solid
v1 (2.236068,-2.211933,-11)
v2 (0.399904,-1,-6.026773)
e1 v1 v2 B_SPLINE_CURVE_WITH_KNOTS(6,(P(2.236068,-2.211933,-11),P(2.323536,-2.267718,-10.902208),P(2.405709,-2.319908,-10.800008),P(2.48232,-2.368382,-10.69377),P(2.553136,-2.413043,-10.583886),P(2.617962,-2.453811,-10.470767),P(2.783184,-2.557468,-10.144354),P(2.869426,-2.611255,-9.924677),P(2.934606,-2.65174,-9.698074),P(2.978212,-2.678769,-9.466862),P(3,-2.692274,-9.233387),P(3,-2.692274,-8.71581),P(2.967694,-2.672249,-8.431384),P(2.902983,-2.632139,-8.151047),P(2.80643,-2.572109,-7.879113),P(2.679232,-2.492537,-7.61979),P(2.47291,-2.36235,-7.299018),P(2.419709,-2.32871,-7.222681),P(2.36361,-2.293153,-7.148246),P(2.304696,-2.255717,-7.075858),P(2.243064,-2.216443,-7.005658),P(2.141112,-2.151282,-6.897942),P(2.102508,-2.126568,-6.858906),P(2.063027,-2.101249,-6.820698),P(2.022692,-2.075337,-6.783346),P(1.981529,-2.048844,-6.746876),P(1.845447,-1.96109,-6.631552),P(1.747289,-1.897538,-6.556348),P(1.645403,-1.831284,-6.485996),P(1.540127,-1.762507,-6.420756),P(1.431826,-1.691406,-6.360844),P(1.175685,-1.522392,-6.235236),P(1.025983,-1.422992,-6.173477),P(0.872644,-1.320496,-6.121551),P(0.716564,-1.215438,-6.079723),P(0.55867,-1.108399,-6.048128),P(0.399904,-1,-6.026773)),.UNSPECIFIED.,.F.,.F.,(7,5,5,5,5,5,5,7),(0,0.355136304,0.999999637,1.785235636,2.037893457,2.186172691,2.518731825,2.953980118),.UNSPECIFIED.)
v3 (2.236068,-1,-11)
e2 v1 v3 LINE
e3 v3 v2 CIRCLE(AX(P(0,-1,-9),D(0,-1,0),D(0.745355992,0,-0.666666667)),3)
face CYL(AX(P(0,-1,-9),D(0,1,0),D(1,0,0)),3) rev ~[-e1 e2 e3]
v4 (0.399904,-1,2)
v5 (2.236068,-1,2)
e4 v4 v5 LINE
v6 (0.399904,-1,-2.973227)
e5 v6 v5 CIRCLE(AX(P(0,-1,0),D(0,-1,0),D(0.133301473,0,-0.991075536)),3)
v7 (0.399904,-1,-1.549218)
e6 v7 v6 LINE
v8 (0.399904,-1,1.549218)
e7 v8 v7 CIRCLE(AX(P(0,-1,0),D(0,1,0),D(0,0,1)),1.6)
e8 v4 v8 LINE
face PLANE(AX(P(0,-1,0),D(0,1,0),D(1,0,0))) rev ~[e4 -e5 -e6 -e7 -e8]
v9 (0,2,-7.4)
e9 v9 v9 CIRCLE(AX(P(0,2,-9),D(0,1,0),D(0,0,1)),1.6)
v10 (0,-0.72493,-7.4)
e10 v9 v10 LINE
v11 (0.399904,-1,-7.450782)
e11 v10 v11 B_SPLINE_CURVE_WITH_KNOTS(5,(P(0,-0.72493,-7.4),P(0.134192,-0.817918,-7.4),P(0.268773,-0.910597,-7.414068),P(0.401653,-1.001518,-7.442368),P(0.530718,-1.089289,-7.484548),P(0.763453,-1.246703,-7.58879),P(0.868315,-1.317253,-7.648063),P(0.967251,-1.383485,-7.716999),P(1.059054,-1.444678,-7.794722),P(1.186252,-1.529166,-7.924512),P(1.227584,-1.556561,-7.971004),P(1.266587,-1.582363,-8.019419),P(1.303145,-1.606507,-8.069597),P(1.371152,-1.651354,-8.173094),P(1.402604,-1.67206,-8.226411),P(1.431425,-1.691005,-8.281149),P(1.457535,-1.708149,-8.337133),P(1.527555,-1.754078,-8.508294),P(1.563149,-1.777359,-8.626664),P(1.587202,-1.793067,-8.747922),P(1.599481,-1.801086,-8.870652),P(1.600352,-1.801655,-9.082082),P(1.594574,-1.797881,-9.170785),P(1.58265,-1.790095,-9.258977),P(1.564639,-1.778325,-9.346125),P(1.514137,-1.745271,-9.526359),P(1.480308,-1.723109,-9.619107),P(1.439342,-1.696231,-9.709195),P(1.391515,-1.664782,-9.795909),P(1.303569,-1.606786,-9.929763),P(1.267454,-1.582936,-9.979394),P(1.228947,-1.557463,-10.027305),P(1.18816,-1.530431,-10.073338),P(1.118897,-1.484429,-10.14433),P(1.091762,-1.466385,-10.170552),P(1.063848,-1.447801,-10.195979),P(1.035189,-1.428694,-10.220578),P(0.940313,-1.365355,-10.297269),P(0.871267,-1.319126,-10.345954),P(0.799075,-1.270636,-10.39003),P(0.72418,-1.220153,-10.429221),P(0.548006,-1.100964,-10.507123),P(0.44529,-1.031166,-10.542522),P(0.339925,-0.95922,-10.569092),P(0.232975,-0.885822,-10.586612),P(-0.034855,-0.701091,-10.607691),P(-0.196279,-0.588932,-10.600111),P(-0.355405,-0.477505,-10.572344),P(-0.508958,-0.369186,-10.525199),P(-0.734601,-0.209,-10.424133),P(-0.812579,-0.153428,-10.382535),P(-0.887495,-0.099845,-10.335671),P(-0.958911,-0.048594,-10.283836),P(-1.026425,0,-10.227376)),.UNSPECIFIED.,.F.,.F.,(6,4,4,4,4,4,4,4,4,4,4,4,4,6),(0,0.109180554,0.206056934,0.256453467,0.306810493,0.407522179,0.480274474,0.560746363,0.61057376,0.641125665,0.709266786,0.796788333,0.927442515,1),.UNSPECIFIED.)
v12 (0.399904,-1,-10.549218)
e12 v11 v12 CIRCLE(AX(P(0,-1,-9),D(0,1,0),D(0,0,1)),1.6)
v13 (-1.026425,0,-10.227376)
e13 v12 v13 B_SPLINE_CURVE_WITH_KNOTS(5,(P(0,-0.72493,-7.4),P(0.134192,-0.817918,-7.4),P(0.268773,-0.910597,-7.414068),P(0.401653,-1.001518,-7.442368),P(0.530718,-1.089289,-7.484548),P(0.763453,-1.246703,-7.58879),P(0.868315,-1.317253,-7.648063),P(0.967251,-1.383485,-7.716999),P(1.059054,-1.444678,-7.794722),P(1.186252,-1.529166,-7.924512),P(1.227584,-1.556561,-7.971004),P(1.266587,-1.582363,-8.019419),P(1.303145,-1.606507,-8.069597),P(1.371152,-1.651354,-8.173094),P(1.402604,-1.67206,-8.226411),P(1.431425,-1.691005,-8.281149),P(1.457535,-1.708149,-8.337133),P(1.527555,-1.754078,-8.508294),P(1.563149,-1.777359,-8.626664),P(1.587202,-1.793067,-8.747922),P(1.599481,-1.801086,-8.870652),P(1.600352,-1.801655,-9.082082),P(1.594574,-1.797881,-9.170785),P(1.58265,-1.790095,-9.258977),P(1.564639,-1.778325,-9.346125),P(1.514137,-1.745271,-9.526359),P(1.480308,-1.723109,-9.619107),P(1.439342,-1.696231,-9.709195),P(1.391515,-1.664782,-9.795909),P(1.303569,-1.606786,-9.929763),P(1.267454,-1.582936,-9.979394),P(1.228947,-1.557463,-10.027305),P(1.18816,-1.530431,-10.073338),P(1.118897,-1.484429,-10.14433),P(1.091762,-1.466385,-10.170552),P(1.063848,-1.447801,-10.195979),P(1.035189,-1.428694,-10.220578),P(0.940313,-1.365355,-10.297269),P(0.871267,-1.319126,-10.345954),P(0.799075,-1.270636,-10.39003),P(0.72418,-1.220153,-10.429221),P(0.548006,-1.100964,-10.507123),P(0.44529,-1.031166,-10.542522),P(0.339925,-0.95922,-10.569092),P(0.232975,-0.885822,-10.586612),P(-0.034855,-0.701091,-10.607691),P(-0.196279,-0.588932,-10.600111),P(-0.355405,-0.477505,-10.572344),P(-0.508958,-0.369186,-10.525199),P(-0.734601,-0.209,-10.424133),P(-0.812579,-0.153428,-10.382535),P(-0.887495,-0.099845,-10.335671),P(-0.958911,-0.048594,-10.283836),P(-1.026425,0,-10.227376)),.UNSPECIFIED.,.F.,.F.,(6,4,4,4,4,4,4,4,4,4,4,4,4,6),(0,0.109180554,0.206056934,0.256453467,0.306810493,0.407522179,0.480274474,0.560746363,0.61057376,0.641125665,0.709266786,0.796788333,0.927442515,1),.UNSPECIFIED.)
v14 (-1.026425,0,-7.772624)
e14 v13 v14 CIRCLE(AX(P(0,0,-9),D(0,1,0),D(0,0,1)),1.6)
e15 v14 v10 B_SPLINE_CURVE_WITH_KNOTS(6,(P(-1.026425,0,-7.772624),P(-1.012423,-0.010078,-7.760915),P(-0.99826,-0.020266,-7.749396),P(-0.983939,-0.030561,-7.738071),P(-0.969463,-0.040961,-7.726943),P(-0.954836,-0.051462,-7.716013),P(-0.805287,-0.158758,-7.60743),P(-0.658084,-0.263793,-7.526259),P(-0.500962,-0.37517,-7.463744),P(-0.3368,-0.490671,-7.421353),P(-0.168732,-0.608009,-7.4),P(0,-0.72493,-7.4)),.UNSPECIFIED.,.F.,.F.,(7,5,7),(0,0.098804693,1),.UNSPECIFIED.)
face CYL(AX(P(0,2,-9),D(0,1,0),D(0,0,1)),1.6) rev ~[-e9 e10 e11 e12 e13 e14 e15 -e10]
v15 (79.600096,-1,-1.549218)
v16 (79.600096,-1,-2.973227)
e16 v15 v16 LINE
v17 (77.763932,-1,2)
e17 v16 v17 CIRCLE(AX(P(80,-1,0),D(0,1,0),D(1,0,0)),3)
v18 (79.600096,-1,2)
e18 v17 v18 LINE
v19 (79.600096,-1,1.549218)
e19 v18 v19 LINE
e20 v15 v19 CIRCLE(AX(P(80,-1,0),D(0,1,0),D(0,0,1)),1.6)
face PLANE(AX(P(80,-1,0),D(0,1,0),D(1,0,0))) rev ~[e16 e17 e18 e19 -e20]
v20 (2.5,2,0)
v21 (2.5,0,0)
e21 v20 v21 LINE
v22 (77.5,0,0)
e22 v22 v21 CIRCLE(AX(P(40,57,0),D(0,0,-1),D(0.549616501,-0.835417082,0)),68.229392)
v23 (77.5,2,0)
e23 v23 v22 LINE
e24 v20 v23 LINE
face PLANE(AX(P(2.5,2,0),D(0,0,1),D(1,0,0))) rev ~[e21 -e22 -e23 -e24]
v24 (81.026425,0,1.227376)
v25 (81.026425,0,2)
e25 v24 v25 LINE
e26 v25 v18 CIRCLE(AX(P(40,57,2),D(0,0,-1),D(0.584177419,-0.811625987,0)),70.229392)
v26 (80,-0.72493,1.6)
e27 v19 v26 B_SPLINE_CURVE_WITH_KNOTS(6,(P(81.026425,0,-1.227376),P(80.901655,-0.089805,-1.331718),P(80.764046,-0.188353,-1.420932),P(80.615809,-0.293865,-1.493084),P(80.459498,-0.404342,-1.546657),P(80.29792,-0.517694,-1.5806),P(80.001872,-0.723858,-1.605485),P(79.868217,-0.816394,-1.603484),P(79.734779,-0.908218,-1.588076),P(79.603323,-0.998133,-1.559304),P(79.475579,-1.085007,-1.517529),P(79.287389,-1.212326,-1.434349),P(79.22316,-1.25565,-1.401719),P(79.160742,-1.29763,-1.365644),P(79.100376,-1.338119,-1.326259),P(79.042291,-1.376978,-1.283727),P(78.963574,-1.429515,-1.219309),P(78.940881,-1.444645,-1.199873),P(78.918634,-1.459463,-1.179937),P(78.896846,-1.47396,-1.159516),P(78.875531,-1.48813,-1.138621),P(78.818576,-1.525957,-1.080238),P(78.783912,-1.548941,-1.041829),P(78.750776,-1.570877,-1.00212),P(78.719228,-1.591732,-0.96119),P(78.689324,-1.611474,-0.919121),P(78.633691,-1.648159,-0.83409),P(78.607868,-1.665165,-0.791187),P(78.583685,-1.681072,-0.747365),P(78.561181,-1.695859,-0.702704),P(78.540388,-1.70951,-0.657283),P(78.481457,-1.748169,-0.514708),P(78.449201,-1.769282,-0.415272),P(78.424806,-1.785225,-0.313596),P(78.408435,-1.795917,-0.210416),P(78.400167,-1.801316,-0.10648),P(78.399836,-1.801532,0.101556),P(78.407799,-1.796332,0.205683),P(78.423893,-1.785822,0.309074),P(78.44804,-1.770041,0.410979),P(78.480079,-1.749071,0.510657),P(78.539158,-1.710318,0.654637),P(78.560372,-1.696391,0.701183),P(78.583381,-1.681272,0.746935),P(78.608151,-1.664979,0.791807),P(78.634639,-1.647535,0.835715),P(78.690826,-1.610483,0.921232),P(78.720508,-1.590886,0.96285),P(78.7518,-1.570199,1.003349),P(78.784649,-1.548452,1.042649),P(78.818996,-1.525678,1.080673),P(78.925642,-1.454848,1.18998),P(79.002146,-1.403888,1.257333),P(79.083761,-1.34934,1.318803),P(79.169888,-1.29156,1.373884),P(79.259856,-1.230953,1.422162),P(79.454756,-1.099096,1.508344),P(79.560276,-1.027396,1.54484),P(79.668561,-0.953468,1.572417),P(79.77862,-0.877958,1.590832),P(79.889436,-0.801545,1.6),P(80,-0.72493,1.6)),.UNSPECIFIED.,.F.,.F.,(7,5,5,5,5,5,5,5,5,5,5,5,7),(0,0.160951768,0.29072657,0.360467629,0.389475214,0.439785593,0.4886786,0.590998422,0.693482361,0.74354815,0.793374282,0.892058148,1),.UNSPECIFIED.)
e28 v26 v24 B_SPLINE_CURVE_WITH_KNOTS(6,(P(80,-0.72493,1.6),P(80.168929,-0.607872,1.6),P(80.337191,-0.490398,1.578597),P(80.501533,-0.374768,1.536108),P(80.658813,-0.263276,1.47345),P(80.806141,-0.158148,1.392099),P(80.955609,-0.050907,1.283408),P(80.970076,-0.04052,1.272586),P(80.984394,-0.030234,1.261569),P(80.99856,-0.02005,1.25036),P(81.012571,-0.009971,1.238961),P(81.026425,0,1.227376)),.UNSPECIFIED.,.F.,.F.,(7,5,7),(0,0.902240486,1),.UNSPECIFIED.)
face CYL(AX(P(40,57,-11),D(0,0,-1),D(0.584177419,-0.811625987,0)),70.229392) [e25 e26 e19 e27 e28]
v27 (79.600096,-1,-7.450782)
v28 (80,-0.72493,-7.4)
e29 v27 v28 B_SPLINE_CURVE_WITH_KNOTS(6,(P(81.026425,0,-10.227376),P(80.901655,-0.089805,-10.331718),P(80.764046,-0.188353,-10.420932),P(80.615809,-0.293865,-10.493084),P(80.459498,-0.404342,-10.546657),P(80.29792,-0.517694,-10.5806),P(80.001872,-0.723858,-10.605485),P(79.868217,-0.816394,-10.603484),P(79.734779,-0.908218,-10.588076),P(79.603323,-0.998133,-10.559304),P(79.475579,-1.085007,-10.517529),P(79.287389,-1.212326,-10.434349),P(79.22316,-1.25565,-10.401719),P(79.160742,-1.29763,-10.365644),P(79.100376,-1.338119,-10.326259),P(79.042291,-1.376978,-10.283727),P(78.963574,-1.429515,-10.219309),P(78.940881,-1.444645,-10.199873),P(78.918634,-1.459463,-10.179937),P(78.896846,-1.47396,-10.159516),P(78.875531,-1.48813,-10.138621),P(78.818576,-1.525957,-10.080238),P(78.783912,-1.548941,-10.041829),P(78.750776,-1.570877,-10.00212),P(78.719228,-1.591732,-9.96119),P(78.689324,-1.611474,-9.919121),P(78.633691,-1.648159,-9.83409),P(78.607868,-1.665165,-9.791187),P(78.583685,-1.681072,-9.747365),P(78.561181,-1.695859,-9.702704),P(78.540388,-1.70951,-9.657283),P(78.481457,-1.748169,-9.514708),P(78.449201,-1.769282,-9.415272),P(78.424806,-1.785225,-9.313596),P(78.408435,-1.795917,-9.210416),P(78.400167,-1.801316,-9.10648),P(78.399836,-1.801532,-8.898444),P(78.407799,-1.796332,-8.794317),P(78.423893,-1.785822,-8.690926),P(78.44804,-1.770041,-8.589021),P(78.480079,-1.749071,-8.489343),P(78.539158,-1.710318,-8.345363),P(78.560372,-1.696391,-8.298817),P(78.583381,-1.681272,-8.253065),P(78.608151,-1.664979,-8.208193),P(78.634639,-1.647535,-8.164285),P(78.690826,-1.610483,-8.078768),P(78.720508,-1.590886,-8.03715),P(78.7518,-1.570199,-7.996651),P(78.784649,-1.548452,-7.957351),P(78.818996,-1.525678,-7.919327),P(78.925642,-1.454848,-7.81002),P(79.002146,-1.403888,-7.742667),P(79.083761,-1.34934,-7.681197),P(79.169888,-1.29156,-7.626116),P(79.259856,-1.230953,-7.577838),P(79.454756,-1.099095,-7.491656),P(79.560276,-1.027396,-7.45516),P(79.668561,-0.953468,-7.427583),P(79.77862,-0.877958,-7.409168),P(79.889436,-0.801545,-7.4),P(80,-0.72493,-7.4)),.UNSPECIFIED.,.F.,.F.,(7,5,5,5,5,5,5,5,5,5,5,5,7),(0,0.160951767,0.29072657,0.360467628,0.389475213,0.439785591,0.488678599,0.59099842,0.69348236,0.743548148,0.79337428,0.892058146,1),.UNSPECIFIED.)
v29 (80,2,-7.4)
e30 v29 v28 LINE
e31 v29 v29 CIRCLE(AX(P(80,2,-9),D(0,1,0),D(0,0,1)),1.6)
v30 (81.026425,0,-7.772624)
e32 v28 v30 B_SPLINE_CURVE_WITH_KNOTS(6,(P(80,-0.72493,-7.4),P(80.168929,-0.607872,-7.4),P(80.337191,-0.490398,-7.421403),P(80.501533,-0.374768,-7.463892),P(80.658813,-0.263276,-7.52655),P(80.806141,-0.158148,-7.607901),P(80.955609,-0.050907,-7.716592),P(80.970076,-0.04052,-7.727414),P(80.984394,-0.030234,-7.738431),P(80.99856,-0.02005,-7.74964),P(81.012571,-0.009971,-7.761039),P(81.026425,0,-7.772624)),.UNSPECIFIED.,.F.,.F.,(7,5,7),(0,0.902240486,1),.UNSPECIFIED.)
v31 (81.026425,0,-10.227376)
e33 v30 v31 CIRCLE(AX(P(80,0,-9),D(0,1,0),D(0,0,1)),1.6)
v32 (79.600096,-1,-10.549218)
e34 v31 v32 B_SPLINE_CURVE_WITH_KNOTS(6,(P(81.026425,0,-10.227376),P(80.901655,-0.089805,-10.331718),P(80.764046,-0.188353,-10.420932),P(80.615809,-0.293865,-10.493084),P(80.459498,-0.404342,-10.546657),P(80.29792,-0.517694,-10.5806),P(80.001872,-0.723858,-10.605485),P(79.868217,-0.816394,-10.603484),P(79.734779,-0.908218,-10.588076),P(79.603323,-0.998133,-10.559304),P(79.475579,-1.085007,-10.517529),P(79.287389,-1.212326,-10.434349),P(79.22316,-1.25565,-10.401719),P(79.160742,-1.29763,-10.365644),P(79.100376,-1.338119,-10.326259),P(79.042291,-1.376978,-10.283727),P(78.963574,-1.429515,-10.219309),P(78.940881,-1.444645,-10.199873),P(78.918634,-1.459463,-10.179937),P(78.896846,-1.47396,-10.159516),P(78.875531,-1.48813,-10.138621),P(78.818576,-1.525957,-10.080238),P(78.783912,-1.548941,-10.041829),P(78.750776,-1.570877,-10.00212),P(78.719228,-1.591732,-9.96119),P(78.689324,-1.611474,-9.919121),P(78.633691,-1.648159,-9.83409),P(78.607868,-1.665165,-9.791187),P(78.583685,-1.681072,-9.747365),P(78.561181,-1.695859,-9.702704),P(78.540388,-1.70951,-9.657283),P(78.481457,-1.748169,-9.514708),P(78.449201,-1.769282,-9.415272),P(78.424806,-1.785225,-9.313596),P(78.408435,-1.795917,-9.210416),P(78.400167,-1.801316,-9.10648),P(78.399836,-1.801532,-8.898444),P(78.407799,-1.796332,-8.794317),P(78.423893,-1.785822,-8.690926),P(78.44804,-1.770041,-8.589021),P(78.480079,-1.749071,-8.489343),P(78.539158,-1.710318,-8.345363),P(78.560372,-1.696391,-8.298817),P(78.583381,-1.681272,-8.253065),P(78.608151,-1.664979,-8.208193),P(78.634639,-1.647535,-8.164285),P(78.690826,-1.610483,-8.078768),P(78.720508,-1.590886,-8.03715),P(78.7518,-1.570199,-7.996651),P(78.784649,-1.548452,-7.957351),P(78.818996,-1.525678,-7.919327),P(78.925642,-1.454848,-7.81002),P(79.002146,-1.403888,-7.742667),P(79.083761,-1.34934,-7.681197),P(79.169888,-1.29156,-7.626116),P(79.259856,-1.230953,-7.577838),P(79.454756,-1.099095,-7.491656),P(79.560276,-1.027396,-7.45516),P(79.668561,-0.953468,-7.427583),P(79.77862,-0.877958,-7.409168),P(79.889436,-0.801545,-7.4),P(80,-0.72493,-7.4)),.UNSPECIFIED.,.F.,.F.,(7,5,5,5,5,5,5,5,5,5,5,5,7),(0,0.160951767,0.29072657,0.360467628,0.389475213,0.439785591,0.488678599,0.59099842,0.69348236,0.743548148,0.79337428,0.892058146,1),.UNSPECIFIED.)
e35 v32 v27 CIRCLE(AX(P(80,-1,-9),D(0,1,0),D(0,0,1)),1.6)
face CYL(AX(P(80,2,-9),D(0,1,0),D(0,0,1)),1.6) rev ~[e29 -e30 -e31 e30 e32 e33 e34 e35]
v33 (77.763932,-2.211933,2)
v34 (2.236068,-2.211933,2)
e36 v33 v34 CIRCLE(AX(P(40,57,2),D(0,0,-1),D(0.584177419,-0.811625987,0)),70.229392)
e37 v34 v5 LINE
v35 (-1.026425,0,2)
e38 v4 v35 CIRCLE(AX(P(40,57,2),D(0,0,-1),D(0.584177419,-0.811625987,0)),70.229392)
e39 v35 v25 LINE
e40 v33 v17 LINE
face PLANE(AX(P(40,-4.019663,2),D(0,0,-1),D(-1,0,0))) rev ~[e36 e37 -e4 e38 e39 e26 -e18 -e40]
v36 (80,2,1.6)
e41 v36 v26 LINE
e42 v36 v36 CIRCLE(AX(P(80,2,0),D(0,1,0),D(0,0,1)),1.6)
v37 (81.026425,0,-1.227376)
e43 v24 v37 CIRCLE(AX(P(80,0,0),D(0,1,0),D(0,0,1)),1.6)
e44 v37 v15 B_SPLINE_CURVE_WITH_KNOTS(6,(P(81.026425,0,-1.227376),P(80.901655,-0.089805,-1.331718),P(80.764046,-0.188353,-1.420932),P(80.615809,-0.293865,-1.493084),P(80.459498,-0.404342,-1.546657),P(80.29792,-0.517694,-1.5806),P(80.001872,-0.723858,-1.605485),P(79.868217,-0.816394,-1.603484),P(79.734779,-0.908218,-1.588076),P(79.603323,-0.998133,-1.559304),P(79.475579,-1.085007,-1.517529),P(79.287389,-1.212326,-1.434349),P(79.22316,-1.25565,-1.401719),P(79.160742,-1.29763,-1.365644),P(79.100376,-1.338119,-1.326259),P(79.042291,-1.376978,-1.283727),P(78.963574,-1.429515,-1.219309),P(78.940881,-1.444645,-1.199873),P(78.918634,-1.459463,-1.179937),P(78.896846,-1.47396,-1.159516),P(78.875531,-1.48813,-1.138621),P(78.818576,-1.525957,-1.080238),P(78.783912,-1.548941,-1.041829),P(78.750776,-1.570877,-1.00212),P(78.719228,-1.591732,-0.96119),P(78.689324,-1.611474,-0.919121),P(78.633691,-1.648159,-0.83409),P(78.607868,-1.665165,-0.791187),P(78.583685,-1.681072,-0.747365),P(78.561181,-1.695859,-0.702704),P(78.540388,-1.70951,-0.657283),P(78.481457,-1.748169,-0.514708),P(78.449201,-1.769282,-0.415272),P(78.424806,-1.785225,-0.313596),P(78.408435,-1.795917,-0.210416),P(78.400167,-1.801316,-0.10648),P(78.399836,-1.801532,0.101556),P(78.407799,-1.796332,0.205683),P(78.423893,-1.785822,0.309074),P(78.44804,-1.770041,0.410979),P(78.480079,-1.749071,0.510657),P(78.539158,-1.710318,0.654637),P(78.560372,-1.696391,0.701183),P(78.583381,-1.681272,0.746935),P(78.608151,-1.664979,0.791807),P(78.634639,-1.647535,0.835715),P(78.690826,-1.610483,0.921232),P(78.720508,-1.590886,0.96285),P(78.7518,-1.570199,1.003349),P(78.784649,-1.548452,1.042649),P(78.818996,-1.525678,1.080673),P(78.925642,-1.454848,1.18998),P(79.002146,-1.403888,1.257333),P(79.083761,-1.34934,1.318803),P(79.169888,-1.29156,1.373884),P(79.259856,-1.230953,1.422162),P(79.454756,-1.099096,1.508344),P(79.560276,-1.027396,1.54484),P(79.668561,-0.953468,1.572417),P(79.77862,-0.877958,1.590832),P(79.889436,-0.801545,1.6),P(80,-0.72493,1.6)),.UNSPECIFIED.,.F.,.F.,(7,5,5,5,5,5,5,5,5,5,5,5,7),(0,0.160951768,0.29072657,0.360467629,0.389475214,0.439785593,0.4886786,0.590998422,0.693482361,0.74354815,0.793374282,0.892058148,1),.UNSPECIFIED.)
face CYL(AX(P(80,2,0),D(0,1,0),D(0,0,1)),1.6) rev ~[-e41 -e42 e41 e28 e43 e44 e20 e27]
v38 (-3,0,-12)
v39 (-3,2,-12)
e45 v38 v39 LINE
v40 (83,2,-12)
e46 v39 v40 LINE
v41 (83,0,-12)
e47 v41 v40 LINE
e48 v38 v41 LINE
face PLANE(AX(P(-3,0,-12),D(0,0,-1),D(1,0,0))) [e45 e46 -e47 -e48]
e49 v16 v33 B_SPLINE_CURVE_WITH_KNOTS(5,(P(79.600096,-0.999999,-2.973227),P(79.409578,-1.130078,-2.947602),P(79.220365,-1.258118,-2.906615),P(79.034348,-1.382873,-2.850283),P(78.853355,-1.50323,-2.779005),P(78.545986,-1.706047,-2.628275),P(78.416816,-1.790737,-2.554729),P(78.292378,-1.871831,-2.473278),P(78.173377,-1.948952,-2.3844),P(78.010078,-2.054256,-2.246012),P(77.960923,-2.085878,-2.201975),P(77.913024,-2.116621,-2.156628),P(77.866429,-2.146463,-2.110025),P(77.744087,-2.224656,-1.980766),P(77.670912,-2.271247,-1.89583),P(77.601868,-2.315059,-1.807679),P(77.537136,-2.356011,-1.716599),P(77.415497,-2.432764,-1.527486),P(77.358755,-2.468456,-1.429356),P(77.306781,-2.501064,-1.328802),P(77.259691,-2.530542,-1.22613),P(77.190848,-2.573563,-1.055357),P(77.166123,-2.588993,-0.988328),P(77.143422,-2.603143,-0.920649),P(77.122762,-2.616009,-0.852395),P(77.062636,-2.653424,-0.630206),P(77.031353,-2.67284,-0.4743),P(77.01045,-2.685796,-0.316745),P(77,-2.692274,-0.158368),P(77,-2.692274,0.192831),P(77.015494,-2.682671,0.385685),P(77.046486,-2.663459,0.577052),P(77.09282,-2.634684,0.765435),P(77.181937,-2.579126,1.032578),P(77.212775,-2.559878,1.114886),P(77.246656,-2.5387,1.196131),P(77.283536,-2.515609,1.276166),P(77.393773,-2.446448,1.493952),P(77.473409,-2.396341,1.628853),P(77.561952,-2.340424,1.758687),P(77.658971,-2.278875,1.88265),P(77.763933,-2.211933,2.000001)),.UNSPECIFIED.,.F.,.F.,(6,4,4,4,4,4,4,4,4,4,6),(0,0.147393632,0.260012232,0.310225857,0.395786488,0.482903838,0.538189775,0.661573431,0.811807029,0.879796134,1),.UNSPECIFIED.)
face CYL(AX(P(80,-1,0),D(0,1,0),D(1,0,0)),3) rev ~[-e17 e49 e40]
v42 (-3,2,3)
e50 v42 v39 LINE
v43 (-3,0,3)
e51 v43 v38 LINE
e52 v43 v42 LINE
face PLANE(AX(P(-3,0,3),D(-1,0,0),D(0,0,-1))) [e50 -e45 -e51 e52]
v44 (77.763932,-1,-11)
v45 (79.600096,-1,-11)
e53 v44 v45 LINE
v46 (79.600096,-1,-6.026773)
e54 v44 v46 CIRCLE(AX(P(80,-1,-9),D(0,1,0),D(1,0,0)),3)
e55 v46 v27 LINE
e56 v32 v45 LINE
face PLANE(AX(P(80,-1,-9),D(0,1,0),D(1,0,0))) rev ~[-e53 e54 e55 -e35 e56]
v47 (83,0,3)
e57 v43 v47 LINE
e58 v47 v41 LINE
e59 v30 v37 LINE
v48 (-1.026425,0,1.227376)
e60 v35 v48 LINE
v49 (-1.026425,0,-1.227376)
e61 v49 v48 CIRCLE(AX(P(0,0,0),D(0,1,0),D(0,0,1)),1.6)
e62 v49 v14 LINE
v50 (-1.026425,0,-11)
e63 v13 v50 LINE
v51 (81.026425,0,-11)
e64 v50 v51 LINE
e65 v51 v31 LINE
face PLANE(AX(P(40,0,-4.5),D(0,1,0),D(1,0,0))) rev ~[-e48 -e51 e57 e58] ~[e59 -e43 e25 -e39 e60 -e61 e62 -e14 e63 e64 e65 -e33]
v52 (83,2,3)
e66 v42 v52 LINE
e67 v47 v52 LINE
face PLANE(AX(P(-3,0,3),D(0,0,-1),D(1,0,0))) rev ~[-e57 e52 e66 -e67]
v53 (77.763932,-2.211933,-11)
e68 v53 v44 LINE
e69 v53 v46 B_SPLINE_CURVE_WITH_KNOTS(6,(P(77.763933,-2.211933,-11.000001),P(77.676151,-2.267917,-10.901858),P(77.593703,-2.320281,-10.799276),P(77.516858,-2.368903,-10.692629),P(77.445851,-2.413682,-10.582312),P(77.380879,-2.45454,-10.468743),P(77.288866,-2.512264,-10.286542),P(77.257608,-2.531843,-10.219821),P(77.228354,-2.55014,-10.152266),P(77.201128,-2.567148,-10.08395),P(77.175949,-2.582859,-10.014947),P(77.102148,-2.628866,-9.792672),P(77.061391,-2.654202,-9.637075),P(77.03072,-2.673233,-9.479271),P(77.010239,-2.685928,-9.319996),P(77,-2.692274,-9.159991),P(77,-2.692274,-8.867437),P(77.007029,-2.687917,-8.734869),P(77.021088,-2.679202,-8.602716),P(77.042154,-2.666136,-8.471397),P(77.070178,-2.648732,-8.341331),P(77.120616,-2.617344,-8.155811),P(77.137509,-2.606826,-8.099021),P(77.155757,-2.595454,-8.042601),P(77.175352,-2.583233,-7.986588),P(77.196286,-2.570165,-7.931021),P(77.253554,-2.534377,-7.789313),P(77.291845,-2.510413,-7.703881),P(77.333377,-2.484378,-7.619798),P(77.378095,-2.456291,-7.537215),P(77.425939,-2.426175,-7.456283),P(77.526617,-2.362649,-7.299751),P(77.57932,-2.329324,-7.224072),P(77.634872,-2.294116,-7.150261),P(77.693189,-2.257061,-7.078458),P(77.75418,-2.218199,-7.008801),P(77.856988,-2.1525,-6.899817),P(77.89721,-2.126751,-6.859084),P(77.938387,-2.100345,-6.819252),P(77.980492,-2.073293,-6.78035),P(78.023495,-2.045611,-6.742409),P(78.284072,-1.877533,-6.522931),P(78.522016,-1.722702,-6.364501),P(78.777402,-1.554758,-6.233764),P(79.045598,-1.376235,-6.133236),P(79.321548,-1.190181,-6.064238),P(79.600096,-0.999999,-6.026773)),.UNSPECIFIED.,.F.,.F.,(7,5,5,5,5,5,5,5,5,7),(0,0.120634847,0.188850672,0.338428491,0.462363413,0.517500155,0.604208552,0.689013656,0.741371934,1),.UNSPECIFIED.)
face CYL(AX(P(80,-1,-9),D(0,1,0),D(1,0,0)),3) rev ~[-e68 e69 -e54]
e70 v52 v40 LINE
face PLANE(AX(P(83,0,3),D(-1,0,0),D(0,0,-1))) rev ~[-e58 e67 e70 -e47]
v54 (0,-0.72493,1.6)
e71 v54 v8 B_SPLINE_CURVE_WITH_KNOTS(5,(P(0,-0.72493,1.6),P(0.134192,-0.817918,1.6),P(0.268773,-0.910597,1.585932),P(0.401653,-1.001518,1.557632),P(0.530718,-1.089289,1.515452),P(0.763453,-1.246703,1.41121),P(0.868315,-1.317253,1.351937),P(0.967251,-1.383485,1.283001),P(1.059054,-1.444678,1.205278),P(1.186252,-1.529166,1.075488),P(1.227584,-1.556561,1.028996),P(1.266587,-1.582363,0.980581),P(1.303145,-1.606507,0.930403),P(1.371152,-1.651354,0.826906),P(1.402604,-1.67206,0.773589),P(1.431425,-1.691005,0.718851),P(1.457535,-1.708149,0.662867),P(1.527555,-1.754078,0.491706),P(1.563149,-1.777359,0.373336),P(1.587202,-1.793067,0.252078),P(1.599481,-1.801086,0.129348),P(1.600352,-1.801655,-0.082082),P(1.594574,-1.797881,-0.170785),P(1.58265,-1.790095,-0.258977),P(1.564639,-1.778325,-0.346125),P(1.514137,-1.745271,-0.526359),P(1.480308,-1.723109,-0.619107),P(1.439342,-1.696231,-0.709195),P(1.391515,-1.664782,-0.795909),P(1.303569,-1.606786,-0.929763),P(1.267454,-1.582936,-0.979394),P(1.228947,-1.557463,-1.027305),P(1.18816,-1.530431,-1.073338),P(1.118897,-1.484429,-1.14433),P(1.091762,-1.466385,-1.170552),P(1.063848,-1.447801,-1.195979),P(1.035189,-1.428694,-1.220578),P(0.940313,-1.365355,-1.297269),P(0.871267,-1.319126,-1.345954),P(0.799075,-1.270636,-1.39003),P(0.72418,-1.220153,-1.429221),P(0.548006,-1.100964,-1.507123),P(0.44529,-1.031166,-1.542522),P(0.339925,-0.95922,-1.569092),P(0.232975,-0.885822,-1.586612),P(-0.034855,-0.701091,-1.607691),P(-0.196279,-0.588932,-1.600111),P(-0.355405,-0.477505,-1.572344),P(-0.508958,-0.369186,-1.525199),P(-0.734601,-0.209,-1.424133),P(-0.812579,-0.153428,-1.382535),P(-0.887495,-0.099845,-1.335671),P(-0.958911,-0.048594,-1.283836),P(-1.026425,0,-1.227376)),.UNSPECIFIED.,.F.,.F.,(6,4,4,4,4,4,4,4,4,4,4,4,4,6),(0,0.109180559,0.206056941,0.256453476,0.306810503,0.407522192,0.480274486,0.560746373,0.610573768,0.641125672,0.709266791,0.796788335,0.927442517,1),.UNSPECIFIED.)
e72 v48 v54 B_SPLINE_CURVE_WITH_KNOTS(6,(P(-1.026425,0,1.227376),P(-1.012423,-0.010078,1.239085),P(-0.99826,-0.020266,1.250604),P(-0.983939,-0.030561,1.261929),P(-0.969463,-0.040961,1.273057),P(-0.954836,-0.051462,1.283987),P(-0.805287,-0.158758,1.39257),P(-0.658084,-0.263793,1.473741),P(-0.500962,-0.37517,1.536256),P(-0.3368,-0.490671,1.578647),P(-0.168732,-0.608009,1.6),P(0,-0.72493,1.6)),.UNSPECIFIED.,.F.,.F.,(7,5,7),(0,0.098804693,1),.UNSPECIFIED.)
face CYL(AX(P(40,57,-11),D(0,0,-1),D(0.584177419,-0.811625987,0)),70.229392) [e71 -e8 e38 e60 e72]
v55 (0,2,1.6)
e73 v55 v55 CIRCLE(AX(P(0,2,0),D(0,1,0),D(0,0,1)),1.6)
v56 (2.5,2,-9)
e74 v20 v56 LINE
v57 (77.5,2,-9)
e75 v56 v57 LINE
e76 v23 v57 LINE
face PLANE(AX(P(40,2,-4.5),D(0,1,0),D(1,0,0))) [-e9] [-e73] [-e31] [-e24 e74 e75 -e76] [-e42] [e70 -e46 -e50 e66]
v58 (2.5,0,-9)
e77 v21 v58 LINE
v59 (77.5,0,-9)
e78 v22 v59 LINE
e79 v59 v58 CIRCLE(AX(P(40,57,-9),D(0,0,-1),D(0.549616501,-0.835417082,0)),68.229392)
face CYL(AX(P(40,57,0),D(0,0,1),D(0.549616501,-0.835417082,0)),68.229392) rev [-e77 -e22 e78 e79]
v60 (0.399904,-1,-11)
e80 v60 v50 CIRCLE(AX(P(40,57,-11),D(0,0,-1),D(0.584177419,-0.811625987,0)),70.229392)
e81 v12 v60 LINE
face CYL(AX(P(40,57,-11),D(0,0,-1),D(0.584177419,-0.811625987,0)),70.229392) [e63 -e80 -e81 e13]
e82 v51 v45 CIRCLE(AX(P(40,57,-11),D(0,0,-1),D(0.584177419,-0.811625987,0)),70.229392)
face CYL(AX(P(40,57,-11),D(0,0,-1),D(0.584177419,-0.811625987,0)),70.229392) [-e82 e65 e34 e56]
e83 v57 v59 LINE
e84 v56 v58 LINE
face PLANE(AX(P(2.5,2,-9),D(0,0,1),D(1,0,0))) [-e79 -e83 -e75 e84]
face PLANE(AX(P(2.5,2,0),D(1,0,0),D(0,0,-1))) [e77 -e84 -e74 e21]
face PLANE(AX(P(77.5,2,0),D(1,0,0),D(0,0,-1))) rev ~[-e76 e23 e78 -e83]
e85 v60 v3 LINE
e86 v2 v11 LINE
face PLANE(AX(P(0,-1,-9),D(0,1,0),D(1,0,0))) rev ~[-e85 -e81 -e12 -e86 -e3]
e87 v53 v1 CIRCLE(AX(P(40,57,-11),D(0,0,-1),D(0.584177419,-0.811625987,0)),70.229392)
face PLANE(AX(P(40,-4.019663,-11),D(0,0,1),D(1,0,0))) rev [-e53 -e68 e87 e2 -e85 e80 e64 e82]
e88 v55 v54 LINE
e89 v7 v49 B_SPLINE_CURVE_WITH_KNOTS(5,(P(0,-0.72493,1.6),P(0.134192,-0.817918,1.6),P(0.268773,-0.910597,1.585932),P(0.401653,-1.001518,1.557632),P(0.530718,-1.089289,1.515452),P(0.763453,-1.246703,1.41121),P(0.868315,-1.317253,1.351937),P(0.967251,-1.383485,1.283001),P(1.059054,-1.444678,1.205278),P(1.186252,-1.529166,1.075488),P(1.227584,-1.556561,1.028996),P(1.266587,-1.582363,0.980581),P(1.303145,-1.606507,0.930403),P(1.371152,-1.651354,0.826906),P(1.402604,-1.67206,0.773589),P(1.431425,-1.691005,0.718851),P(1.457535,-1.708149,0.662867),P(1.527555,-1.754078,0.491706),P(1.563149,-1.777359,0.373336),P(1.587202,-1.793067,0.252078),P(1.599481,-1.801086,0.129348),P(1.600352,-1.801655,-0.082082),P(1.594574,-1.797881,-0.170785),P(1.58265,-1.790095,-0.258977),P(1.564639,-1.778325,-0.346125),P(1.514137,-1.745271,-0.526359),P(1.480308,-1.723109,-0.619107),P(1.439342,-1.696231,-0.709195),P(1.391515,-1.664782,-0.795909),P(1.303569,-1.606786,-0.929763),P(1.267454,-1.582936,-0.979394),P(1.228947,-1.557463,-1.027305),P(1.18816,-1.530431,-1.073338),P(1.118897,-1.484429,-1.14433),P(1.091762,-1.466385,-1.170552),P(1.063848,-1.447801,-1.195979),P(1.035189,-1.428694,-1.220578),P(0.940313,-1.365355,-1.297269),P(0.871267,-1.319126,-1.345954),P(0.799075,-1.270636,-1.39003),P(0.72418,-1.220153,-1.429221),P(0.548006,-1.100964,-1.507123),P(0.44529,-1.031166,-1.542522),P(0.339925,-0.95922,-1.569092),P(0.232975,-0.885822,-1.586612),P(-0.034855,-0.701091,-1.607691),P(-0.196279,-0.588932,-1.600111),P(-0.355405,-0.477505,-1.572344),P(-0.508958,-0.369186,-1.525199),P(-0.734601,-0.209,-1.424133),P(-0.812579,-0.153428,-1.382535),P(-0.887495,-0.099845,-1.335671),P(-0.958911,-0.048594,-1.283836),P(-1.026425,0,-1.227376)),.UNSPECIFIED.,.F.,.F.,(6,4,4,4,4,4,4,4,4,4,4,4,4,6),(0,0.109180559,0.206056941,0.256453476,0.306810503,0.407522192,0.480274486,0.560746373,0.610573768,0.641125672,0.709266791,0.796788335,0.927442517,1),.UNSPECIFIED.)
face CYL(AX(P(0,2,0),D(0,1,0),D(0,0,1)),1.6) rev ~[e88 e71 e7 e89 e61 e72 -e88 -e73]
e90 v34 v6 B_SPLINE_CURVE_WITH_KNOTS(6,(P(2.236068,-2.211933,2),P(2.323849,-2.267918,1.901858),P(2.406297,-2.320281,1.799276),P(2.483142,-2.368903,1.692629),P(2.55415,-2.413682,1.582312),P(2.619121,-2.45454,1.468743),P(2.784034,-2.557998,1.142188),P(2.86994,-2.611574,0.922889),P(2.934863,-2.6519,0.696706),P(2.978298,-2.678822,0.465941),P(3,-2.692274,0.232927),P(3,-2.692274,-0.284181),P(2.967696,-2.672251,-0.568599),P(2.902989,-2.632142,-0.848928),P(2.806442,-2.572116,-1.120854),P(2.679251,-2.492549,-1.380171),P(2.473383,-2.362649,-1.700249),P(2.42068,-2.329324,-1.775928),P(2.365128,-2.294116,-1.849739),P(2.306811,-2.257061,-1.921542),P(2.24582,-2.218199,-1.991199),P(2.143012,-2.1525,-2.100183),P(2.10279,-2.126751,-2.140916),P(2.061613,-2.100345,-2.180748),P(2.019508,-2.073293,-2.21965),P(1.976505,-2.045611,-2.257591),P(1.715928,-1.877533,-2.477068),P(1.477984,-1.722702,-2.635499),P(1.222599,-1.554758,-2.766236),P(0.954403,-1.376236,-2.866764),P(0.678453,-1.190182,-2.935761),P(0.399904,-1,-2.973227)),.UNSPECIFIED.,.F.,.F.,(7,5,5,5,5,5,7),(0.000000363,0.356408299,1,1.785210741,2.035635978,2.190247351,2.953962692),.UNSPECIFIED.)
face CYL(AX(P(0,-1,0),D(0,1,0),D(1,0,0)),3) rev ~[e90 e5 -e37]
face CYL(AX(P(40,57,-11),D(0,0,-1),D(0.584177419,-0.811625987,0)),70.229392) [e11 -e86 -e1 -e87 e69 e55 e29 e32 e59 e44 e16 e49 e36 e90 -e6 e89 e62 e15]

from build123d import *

# Parameters (mm, degrees)
SKETCH_3_W               = 86
SKETCH_3_H               = 15
EXTRUDE_1_DEPTH          = 2
EXTRUDE_START            = -3
EXTRUDE_2_DEPTH          = 9
EXTRUDE_START_2          = 2
EXTRUDE_3_DEPTH          = 2
CUT_EXTRUDE_1_REACH      = 87.235
CUT_EXTRUDE_1_END_RADIUS = 68.229392493
SKETCH_7_W               = 75
SKETCH_7_H               = 9
SKETCH_8_R               = 1.6
CUT_EXTRUDE_2_DEPTH      = 86.234584505
CUT_EXTRUDE_START        = -3
SKETCH_9_R               = 3
CUT_EXTRUDE_3_DEPTH      = 83.234584523


with BuildPart() as part:
    # 草图3 → 凸台-拉伸1 (new body)
    with BuildSketch(Plane(origin=(0, 0, 0), x_dir=(1, 0, 0), z_dir=(0, 1, 0))):
        with Locations((40, 4.5)):
            Rectangle(SKETCH_3_W, SKETCH_3_H)
    extrude(amount=EXTRUDE_1_DEPTH)

    # 草图5 → 凸台-拉伸2 (add)
    with BuildSketch(Plane.XY.offset(3).offset(EXTRUDE_START)):
        with BuildLine():
            Line((2.5, 0), (-1.026425264, 0))
            ThreePointArc((-1.026425264, 0), (40, -13.229392493), (81.026425264, 0))
            Line((81.026425264, 0), (77.5, 0))
            ThreePointArc((77.5, 0), (40, -11.229392493), (2.5, 0))
        make_face()
    extrude(amount=-EXTRUDE_2_DEPTH)

    # 草图6 → 凸台-拉伸3 (add)
    with BuildSketch(Plane.XY.offset(EXTRUDE_START_2)):
        with BuildLine():
            Line((-1.026425264, 0), (81.026425264, 0))
            ThreePointArc((81.026425264, 0), (40, -13.229392493), (-1.026425264, 0))
        make_face()
    extrude_3 = extrude(amount=-EXTRUDE_3_DEPTH)

    # 镜向1: 凸台-拉伸3 across plane
    add(extrude_3.mirror(Plane.XY.offset(-4.5)))

    # 切除-拉伸1: up to this cylinder (the profile starts inside it)
    cut_extrude_1_end = Plane(origin=(40, 57, -4.5), z_dir=(0, 0, 1)) * Cylinder(CUT_EXTRUDE_1_END_RADIUS, 311.928784987, mode=Mode.PRIVATE)
    # 草图7 → 切除-拉伸1 (cut, up to the surface)
    with BuildSketch(Plane(origin=(0, 2, 0), x_dir=(1, 0, 0), z_dir=(0, 1, 0)), mode=Mode.PRIVATE) as cut_extrude_1_sk1:
        with Locations((40, 4.5)):
            Rectangle(SKETCH_7_W, SKETCH_7_H)
    cut_extrude_1_tool1 = extrude(cut_extrude_1_sk1.sketch, amount=-CUT_EXTRUDE_1_REACH, mode=Mode.PRIVATE) & cut_extrude_1_end
    add(cut_extrude_1_tool1.solids().sort_by_distance((40, 2, -4.5))[0], mode=Mode.SUBTRACT)

    # 草图8 → 切除-拉伸2 (cut, through all)
    with BuildSketch(Plane(origin=(0, 2, 0), x_dir=(1, 0, 0), z_dir=(0, 1, 0))):
        with Locations(Location((80, 0, 0), (0, 0, 270))):
            Circle(SKETCH_8_R)
        with Locations(Location((80, 9, 0), (0, 0, 270))):
            Circle(SKETCH_8_R)
        with Locations(Location((0, 0, 0), (0, 0, 270))):
            Circle(SKETCH_8_R)
        with Locations(Location((0, 9, 0), (0, 0, 270))):
            Circle(SKETCH_8_R)
    extrude(amount=-CUT_EXTRUDE_2_DEPTH, mode=Mode.SUBTRACT)

    # 草图9 → 切除-拉伸3 (cut, through all)
    with BuildSketch(Plane(origin=(0, 2, 0), x_dir=(1, 0, 0), z_dir=(0, 1, 0)).offset(CUT_EXTRUDE_START)):
        with Locations((0, 9)):
            Circle(SKETCH_9_R)
        Circle(SKETCH_9_R)
        with Locations((80, 0)):
            Circle(SKETCH_9_R)
        with Locations((80, 9)):
            Circle(SKETCH_9_R)
    extrude(amount=-CUT_EXTRUDE_3_DEPTH, mode=Mode.SUBTRACT)


solid = part.part
